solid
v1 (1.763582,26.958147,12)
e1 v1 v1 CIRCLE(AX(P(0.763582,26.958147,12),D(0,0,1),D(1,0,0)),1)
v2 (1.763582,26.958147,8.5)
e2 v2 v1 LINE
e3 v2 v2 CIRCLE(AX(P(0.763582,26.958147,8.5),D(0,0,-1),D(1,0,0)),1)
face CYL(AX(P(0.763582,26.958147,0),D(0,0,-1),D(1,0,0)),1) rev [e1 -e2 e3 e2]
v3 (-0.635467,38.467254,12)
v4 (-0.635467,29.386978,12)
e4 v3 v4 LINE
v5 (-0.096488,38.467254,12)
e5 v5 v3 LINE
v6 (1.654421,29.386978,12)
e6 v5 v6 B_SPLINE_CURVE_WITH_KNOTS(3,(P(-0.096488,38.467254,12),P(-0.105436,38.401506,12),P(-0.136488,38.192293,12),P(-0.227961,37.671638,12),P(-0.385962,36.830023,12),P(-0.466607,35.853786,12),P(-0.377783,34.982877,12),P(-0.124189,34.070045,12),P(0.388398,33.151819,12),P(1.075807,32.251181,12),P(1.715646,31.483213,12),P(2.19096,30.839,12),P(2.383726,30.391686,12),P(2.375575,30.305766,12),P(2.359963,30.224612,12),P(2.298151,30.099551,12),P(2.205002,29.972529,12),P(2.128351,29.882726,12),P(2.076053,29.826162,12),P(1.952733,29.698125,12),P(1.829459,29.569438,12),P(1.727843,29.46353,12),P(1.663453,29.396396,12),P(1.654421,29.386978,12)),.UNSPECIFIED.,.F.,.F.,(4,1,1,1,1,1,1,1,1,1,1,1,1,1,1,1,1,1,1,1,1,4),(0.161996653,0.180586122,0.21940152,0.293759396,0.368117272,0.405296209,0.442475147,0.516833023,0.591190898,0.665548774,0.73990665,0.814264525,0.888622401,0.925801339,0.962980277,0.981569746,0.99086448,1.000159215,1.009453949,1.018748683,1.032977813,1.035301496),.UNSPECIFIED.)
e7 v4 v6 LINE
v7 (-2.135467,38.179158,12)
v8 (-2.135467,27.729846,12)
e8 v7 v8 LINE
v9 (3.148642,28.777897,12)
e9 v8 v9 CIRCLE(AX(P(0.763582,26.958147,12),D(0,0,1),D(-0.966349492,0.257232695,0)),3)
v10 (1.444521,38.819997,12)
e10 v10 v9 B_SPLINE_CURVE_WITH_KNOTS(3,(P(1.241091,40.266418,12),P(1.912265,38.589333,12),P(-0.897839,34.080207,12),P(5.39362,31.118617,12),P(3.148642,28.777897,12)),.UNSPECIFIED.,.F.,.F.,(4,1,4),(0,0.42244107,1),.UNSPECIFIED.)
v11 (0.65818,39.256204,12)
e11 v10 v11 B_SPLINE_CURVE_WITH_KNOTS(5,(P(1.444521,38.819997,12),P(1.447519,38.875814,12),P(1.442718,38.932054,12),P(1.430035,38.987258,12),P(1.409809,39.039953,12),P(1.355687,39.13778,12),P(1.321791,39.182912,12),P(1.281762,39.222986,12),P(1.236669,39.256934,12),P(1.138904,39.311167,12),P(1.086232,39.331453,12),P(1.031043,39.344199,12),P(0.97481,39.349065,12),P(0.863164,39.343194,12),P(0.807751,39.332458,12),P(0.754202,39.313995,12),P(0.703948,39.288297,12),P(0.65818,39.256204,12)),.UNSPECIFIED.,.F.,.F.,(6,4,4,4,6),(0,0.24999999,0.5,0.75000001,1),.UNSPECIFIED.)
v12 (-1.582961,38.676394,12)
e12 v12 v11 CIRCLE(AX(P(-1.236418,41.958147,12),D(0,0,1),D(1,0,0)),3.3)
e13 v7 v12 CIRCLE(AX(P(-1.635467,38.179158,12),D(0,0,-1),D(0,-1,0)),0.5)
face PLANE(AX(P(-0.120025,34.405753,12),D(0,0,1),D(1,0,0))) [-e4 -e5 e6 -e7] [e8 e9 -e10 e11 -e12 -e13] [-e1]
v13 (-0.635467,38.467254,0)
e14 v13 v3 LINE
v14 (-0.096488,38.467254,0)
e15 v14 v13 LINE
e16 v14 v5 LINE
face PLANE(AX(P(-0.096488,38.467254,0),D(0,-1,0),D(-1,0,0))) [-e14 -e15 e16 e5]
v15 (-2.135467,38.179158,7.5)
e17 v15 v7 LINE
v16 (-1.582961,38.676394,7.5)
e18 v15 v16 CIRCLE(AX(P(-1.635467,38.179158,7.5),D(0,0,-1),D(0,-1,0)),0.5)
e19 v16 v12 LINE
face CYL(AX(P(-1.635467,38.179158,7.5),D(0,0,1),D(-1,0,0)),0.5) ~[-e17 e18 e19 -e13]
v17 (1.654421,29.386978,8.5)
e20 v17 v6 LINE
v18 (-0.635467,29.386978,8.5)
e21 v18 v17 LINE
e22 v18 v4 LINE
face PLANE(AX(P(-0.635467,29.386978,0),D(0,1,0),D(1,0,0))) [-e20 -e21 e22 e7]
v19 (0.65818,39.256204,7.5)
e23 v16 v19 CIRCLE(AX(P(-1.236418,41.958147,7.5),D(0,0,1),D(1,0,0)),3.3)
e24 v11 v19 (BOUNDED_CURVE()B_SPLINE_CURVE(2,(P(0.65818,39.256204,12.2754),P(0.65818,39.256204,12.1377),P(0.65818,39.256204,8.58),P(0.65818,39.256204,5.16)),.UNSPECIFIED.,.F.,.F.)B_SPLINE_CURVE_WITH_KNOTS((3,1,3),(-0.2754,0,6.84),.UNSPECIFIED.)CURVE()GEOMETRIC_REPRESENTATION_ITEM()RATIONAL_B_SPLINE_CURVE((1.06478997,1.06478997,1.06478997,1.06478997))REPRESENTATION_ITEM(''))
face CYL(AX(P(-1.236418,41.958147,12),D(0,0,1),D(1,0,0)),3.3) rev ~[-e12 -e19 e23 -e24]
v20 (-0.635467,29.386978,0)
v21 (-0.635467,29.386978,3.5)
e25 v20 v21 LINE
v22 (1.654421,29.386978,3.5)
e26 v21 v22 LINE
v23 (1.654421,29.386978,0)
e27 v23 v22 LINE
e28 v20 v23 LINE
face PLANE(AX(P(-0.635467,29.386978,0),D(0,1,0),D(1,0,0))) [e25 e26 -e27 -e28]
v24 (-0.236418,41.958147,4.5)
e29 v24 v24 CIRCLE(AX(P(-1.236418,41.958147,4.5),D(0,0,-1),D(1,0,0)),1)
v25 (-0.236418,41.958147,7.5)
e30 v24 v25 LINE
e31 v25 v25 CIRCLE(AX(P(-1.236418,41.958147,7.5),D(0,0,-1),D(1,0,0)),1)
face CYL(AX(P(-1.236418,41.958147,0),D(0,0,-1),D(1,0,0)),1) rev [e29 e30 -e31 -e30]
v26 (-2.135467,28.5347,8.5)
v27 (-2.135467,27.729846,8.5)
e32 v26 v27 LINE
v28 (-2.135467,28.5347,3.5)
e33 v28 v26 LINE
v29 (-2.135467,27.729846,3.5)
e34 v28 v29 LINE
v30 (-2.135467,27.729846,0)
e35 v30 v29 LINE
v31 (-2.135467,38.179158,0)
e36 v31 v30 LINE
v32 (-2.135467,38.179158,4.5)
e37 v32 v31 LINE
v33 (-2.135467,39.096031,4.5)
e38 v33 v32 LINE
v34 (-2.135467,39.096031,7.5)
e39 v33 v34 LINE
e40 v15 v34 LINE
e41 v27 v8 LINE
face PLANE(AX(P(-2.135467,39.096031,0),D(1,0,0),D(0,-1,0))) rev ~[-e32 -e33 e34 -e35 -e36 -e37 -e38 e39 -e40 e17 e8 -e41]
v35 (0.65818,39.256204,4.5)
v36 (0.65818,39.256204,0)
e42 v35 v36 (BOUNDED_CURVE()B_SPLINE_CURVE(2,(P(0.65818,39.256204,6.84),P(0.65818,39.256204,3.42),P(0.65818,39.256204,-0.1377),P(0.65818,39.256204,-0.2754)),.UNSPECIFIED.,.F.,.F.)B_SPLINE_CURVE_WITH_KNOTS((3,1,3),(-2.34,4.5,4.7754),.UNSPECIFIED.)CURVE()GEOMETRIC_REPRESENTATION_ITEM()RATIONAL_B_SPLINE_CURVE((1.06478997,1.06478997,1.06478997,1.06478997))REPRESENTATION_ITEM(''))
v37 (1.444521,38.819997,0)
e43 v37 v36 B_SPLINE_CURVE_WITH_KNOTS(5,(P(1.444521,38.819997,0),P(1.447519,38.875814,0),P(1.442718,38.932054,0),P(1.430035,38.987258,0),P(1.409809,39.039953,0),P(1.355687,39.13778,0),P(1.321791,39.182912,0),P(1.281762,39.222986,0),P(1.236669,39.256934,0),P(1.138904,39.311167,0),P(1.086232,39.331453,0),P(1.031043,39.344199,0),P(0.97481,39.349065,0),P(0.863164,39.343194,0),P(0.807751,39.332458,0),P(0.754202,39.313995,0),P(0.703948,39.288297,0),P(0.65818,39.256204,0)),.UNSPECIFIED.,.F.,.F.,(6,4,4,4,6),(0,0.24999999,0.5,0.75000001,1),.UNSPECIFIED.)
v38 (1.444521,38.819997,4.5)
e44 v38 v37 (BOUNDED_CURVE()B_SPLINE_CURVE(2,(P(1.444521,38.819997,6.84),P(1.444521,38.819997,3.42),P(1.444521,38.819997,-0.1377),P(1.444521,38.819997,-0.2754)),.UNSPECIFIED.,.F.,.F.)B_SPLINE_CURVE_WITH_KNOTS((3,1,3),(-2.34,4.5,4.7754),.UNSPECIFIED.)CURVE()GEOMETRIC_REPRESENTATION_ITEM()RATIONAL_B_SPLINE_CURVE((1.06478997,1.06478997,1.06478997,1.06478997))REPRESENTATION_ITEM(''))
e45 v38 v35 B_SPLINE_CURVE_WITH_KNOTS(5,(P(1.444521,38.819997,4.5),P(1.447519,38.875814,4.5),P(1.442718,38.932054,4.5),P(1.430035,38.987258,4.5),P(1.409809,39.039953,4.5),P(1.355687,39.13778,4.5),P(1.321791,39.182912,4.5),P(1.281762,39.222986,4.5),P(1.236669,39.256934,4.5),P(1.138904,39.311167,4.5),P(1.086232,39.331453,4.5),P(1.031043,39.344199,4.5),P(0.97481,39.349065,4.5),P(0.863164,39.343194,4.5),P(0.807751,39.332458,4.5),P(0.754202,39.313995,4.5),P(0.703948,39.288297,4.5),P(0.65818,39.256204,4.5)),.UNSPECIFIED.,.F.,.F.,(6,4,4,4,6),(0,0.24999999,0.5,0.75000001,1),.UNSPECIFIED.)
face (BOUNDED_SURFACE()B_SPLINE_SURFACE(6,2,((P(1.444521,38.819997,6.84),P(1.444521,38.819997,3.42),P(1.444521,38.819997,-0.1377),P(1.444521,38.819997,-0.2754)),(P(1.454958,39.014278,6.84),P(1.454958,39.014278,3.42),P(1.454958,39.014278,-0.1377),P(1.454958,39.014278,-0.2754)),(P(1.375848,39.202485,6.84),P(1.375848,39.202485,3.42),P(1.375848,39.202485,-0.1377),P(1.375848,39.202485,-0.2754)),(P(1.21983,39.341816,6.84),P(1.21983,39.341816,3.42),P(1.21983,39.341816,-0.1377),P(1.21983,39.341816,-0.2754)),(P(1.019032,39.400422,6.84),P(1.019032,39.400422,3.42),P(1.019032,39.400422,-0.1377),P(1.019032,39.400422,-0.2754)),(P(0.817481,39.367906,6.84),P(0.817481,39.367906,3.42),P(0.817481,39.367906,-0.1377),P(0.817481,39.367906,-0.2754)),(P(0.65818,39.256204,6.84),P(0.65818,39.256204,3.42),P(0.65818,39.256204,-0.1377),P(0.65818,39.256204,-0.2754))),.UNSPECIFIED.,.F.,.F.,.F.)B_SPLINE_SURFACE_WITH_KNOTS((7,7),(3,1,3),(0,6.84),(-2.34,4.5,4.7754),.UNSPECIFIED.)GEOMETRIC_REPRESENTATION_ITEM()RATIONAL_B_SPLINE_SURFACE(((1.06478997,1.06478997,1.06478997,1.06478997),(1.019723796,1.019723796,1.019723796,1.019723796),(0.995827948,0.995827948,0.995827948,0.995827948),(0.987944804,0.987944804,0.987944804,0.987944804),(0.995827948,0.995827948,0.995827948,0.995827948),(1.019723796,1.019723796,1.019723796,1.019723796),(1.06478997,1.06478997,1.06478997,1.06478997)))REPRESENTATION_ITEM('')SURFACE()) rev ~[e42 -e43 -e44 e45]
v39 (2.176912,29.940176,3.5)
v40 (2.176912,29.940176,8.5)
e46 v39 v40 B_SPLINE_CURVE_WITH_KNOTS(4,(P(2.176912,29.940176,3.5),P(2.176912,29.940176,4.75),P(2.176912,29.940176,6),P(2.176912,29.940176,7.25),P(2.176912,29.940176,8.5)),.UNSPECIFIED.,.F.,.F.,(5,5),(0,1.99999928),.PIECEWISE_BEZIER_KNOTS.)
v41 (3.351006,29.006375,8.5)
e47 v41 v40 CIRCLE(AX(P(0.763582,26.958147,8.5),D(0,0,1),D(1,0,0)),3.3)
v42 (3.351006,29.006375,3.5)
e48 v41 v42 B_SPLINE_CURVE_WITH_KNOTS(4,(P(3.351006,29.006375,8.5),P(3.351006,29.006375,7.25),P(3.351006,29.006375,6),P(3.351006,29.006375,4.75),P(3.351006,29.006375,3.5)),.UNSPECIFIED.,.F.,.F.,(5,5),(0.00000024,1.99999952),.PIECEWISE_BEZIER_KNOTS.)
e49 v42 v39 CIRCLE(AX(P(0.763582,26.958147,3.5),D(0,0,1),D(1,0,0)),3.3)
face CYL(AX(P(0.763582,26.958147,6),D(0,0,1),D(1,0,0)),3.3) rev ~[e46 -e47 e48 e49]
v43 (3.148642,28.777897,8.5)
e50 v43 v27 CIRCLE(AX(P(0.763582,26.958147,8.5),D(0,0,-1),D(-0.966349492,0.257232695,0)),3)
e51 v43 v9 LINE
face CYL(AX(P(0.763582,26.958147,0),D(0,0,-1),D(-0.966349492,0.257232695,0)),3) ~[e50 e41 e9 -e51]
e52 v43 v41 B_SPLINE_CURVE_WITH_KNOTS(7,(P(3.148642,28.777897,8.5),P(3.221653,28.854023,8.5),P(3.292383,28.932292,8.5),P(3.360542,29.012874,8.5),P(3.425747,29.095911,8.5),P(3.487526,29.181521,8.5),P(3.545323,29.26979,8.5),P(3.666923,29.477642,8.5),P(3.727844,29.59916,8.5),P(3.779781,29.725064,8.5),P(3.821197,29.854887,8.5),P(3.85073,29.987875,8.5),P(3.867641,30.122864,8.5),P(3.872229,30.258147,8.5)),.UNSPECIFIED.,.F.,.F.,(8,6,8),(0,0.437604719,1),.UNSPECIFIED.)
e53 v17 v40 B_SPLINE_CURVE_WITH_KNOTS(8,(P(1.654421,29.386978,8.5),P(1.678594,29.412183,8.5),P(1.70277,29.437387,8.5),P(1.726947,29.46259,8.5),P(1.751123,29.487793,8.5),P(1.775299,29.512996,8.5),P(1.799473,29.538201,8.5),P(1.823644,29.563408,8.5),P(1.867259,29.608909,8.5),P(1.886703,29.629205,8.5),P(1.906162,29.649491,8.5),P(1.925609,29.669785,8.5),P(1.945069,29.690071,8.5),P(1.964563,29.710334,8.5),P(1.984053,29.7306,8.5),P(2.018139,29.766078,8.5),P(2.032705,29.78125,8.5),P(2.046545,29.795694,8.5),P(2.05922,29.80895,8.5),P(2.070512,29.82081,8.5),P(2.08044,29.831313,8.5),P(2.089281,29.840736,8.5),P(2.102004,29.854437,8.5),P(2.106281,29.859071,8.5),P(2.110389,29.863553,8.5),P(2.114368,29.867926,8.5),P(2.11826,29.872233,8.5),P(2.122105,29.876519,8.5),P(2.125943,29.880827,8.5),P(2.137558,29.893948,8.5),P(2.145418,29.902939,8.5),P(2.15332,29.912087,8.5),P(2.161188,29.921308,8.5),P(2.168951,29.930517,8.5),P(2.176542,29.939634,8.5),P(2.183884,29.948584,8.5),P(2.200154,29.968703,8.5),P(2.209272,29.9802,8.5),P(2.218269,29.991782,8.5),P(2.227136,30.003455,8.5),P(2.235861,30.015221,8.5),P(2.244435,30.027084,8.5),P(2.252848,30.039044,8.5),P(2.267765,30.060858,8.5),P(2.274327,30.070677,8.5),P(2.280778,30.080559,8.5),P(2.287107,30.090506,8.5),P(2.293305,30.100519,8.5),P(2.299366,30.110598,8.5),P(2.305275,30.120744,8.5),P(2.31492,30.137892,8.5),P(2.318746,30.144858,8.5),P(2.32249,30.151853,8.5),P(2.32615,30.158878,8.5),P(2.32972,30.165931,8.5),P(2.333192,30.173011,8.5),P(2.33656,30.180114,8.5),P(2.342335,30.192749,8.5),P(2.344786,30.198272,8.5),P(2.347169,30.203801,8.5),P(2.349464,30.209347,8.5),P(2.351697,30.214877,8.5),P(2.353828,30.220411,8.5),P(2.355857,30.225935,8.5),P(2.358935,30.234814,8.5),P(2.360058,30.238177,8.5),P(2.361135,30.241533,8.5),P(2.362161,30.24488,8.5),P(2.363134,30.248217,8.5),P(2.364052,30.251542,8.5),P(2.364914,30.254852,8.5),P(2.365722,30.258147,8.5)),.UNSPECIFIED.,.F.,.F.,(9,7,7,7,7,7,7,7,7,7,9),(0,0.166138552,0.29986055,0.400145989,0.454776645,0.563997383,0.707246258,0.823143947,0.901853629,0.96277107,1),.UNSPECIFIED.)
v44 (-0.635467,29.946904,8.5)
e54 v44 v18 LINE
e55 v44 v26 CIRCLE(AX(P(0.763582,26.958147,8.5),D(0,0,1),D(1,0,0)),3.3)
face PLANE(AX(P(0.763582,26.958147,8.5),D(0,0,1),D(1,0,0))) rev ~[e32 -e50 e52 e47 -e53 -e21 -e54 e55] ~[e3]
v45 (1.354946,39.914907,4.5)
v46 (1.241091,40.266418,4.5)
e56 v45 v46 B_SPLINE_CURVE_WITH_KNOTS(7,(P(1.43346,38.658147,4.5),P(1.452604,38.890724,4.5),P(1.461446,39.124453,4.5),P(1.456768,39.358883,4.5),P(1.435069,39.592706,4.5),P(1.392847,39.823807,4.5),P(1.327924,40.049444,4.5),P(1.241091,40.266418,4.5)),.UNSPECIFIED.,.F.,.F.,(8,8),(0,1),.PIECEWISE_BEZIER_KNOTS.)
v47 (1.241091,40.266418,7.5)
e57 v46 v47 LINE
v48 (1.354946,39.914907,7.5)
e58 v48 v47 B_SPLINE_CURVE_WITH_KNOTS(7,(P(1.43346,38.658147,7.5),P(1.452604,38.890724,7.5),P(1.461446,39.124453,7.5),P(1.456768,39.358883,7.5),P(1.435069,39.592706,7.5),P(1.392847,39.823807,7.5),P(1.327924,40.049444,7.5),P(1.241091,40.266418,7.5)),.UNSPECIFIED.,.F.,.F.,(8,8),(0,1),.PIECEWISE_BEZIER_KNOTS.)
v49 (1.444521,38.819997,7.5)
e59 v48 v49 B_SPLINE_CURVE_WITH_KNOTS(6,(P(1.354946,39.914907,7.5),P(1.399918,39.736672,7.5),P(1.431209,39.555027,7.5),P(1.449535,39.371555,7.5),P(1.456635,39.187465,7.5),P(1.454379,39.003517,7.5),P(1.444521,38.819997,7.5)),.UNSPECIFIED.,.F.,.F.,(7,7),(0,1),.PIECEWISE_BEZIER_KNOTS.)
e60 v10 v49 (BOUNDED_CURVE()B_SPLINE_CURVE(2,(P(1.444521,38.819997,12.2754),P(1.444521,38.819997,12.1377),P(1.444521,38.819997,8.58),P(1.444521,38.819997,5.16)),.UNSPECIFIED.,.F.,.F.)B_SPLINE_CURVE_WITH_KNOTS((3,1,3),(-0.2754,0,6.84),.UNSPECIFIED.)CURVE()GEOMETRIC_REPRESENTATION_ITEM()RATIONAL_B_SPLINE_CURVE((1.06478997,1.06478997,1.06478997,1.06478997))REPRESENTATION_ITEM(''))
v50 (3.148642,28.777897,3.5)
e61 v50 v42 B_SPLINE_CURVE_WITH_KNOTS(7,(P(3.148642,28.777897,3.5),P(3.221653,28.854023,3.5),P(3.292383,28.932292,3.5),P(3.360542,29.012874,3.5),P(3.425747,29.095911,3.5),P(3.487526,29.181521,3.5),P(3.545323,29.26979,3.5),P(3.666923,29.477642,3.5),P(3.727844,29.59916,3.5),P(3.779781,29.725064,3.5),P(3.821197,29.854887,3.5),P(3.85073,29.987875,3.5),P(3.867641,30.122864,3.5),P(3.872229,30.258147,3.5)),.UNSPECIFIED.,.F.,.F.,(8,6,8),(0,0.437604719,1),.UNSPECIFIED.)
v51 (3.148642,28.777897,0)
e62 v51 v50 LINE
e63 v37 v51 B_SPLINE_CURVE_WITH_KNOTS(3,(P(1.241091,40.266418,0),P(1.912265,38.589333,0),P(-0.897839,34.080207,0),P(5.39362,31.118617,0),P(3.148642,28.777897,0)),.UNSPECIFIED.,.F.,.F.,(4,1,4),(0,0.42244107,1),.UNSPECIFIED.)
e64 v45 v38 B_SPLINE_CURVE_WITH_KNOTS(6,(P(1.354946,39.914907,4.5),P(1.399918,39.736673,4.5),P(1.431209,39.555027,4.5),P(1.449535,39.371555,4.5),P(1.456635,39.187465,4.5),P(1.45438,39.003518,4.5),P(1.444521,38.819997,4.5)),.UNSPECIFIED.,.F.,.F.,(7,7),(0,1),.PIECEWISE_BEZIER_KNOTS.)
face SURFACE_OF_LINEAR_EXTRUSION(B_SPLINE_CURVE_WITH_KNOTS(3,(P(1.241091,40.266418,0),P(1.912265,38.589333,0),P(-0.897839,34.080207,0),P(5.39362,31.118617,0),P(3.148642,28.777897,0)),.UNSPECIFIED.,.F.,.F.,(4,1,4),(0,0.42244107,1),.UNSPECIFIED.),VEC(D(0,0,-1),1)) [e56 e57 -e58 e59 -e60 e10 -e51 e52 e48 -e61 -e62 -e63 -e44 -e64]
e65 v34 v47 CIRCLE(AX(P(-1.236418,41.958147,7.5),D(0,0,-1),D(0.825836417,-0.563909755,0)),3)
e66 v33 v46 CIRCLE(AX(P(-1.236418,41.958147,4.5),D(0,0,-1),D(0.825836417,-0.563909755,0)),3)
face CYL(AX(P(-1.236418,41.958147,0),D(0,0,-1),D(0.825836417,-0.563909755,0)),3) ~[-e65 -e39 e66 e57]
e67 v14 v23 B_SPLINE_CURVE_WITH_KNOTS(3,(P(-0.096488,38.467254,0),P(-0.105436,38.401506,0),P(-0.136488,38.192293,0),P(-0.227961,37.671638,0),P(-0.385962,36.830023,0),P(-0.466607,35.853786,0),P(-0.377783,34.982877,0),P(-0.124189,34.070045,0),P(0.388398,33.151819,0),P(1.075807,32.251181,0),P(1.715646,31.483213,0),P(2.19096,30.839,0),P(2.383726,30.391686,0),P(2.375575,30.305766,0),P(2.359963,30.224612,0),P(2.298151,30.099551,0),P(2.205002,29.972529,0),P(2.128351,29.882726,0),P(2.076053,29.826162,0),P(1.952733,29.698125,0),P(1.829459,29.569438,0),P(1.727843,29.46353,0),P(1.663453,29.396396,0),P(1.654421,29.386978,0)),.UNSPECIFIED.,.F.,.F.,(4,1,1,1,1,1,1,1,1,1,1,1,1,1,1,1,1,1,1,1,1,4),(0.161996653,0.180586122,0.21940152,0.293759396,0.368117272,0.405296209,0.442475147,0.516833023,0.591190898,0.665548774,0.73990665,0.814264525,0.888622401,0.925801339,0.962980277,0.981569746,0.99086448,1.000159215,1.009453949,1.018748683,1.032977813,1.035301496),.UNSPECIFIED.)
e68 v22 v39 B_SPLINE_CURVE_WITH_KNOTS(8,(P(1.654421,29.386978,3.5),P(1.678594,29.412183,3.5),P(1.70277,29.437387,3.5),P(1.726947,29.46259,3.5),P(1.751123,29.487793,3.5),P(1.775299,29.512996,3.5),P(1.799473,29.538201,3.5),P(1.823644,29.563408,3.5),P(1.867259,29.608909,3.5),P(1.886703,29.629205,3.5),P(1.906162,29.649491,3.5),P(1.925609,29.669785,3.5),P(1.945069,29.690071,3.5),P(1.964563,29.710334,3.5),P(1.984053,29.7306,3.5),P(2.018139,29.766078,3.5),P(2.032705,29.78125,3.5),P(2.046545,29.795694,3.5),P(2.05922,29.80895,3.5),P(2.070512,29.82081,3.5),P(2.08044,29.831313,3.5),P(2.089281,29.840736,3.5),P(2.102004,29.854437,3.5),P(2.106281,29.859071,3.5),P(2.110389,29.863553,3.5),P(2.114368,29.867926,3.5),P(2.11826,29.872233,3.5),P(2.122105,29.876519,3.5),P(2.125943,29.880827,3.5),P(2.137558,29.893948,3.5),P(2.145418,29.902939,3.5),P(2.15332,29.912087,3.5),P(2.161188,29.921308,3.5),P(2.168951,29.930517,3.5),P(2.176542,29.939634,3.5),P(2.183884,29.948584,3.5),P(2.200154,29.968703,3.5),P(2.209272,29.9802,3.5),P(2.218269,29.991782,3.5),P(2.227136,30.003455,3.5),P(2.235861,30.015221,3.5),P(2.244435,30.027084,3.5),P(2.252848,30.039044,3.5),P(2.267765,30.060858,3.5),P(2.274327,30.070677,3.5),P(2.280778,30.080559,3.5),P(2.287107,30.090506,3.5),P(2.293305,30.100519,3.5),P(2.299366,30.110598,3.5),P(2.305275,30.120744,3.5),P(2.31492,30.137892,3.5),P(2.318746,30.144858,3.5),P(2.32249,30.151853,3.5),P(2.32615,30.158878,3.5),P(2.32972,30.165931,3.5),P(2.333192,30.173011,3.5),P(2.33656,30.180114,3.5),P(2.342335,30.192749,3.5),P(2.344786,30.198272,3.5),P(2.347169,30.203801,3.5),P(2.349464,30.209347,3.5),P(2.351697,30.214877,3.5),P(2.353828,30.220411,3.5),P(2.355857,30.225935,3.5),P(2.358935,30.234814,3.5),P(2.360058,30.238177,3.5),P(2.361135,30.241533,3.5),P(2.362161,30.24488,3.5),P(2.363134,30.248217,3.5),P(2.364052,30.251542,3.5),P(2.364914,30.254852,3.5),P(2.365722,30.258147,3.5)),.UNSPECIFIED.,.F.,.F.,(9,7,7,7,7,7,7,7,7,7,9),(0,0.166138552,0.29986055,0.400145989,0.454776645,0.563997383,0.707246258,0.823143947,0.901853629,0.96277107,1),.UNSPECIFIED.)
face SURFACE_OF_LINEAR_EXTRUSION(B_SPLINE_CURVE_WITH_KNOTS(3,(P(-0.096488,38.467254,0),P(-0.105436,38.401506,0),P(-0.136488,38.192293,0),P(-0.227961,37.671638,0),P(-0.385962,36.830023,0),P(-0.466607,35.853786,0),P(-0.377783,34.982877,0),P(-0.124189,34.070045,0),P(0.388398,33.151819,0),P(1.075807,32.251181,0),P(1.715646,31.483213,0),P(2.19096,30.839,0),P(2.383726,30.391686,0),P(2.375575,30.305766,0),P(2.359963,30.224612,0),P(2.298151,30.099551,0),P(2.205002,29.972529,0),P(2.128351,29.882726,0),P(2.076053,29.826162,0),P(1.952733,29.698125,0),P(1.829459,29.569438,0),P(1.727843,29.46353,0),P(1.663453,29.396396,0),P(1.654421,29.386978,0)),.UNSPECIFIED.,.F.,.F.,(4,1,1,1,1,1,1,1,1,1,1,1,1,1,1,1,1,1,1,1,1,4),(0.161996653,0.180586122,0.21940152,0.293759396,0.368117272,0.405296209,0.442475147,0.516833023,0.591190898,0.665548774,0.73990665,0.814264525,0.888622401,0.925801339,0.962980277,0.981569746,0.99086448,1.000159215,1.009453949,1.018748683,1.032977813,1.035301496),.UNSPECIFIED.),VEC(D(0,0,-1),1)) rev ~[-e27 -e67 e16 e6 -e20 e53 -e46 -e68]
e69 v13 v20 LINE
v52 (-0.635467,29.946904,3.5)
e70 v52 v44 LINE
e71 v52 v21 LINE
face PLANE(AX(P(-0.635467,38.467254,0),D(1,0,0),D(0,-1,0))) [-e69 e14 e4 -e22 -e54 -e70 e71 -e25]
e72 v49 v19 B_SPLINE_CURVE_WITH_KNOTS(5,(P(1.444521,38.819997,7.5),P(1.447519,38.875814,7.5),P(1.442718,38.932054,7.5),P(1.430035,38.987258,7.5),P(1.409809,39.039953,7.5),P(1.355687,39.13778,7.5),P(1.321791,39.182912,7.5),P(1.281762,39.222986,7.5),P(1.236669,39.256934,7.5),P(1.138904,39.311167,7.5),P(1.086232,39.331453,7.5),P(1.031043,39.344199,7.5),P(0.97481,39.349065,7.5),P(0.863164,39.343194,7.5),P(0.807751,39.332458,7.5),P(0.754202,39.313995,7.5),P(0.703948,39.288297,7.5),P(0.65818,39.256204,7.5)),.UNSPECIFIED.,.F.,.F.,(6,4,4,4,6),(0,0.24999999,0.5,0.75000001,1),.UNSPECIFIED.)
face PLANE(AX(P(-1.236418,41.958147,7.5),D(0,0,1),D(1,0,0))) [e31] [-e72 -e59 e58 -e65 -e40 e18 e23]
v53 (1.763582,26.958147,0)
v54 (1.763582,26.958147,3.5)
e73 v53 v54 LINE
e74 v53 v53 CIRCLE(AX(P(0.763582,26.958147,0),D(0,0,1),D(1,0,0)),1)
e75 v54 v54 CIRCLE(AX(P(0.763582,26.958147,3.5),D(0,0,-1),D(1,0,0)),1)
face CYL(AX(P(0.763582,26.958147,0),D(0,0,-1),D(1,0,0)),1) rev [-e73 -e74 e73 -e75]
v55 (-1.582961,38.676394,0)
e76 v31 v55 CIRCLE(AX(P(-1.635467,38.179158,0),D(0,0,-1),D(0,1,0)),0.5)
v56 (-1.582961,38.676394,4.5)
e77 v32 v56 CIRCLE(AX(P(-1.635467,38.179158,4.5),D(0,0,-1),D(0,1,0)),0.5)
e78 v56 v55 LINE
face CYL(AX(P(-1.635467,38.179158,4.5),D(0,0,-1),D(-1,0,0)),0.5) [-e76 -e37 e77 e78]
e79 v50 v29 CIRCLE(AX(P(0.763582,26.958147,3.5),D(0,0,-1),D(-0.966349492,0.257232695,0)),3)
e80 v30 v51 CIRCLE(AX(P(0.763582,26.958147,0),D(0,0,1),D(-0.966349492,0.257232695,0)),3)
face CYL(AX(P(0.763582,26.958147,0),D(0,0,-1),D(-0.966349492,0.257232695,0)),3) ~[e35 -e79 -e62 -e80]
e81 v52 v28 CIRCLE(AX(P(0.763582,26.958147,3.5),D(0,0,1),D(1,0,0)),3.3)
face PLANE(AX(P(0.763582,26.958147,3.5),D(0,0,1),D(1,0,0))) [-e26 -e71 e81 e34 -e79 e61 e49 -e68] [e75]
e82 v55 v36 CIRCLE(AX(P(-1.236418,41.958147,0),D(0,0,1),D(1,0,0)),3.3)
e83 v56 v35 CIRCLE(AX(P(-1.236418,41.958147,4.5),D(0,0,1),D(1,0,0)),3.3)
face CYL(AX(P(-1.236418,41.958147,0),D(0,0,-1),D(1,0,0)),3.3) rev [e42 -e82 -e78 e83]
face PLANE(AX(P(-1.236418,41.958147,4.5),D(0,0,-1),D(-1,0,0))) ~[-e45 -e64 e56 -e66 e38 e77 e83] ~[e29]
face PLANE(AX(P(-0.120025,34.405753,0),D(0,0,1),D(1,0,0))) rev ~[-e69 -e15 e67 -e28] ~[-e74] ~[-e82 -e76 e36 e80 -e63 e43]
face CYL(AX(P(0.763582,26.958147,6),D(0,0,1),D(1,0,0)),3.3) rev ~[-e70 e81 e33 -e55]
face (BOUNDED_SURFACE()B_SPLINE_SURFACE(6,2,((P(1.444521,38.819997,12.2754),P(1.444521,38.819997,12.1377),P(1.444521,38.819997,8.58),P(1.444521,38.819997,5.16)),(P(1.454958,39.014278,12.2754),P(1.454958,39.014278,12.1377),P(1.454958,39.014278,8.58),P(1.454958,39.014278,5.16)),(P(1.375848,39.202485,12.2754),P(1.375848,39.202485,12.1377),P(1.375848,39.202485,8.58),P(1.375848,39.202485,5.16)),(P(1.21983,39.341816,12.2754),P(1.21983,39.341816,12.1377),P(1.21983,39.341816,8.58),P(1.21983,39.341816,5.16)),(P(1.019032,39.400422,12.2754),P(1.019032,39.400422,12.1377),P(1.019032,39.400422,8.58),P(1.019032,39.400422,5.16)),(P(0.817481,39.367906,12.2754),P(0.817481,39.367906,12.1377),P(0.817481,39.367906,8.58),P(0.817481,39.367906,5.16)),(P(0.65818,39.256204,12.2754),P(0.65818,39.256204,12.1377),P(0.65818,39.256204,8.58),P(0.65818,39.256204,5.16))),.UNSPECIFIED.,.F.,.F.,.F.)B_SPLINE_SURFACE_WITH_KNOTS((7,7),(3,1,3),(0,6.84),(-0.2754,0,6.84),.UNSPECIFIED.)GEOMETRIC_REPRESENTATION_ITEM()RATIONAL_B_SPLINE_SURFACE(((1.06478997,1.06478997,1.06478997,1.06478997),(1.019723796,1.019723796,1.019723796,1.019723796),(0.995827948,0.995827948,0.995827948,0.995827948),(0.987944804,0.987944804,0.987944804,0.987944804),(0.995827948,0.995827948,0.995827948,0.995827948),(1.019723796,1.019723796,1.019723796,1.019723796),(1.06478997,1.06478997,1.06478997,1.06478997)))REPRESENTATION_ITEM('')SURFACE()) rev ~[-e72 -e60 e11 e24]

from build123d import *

# Parameters (mm, degrees)
SKETCH1_R               = 1
BOSS_EXTRUDE1_DEPTH     = 12
SKETCH2_R               = 3.3
CUT_EXTRUDE1_DEPTH      = 4.5
SKETCH3_R               = 3.3
CUT_EXTRUDE2_DEPTH      = 2.5
CUT_EXTRUDE2_DEPTH_BACK = 2.5
FILLET1_R               = 0.5


with BuildPart() as part:
    # Sketch1 → Boss-Extrude1 (new body)
    with BuildSketch(Plane.XY):
        with BuildLine():
            Line((-2.135466949, 39.096030813), (-2.135466949, 27.729845568))
            ThreePointArc((-2.135466949, 27.729845568), (1.347232905, 24.01546995), (3.148641663, 28.777896957))
            add(Edge.make_bspline(
                [(1.241090778, 40.266418218), (1.912265469, 38.58933293), (-0.897839085, 34.080207081), (5.393619541, 31.118616661), (3.148641663, 28.777896957)],
                knots=[0, 0, 0, 0, 0.42244107, 1, 1, 1, 1], degree=3))
            ThreePointArc((1.241090778, 40.266418218), (-2.218933753, 44.792695724), (-2.135466949, 39.096030813))
        make_face()
        with Locations((-1.236418473, 41.958147484)):
            Circle(SKETCH1_R, mode=Mode.SUBTRACT)
        with Locations((0.763581527, 26.958147484)):
            Circle(SKETCH1_R, mode=Mode.SUBTRACT)
        with BuildLine():
            Line((-0.096488374, 38.467254306), (-0.635466949, 38.467254306))
            Line((-0.635466949, 38.467254306), (-0.635466949, 29.386978342))
            Line((-0.635466949, 29.386978342), (1.654420667, 29.386978342))
            add(Edge.make_bspline(
                [(-0.096488374, 38.467254306), (-0.105436009, 38.401506099), (-0.136487964, 38.192292588), (-0.227961155, 37.671638495), (-0.385962112, 36.830023321), (-0.466607437, 35.853786297), (-0.377783184, 34.982876922), (-0.124189465, 34.070044509), (0.388397723, 33.151819221), (1.075806782, 32.251180688), (1.715646354, 31.483212968), (2.190959779, 30.839000473), (2.38372585, 30.391686489), (2.375574587, 30.305766013), (2.359962508, 30.224611722), (2.298151123, 30.09955086), (2.205002187, 29.972528912), (2.128350668, 29.882726381), (2.076053028, 29.826162431), (1.952733028, 29.698125272), (1.82945871, 29.569437868), (1.727842683, 29.463529821), (1.663452851, 29.396395722), (1.654420667, 29.386978342)],
                knots=[0.161996653, 0.161996653, 0.161996653, 0.161996653, 0.180586122, 0.21940152, 0.293759396, 0.368117272, 0.405296209, 0.442475147, 0.516833023, 0.591190898, 0.665548774, 0.73990665, 0.814264525, 0.888622401, 0.925801339, 0.962980277, 0.981569746, 0.99086448, 1.000159215, 1.009453949, 1.018748683, 1.032977813, 1.035301496, 1.035301496, 1.035301496, 1.035301496], degree=3))
        make_face(mode=Mode.SUBTRACT)
    extrude(amount=BOSS_EXTRUDE1_DEPTH)

    # Sketch2 → Cut-Extrude1 (cut)
    with BuildSketch(Plane.XY.offset(12)):
        with Locations((-1.236418473, 41.958147484)):
            Circle(SKETCH2_R)
    cut_extrude1 = extrude(amount=-CUT_EXTRUDE1_DEPTH, mode=Mode.SUBTRACT)

    # Mirror1: Cut-Extrude1 across plane
    add(cut_extrude1.mirror(Plane.XY.offset(6)), mode=Mode.SUBTRACT)

    # Sketch3 → Cut-Extrude2 (cut, two sides)
    with BuildSketch(Plane.XY.offset(6)) as cut_extrude2_sk:
        with Locations((0.763581527, 26.958147484)):
            Circle(SKETCH3_R)
    extrude(amount=CUT_EXTRUDE2_DEPTH, mode=Mode.SUBTRACT)
    extrude(cut_extrude2_sk.sketch, amount=-CUT_EXTRUDE2_DEPTH_BACK, mode=Mode.SUBTRACT)

    # Fillet1
    fillet1_edges = [part.edges().sort_by_distance(p)[0] for p in [
        (-2.135466949, 38.782976333, 9.75),
        (1.354946085, 39.914907476, 9.75),
        (-2.135466949, 38.782976333, 2.25),
        (1.354946085, 39.914907476, 2.25),
    ]]
    fillet(fillet1_edges, radius=FILLET1_R)


solid = part.part
